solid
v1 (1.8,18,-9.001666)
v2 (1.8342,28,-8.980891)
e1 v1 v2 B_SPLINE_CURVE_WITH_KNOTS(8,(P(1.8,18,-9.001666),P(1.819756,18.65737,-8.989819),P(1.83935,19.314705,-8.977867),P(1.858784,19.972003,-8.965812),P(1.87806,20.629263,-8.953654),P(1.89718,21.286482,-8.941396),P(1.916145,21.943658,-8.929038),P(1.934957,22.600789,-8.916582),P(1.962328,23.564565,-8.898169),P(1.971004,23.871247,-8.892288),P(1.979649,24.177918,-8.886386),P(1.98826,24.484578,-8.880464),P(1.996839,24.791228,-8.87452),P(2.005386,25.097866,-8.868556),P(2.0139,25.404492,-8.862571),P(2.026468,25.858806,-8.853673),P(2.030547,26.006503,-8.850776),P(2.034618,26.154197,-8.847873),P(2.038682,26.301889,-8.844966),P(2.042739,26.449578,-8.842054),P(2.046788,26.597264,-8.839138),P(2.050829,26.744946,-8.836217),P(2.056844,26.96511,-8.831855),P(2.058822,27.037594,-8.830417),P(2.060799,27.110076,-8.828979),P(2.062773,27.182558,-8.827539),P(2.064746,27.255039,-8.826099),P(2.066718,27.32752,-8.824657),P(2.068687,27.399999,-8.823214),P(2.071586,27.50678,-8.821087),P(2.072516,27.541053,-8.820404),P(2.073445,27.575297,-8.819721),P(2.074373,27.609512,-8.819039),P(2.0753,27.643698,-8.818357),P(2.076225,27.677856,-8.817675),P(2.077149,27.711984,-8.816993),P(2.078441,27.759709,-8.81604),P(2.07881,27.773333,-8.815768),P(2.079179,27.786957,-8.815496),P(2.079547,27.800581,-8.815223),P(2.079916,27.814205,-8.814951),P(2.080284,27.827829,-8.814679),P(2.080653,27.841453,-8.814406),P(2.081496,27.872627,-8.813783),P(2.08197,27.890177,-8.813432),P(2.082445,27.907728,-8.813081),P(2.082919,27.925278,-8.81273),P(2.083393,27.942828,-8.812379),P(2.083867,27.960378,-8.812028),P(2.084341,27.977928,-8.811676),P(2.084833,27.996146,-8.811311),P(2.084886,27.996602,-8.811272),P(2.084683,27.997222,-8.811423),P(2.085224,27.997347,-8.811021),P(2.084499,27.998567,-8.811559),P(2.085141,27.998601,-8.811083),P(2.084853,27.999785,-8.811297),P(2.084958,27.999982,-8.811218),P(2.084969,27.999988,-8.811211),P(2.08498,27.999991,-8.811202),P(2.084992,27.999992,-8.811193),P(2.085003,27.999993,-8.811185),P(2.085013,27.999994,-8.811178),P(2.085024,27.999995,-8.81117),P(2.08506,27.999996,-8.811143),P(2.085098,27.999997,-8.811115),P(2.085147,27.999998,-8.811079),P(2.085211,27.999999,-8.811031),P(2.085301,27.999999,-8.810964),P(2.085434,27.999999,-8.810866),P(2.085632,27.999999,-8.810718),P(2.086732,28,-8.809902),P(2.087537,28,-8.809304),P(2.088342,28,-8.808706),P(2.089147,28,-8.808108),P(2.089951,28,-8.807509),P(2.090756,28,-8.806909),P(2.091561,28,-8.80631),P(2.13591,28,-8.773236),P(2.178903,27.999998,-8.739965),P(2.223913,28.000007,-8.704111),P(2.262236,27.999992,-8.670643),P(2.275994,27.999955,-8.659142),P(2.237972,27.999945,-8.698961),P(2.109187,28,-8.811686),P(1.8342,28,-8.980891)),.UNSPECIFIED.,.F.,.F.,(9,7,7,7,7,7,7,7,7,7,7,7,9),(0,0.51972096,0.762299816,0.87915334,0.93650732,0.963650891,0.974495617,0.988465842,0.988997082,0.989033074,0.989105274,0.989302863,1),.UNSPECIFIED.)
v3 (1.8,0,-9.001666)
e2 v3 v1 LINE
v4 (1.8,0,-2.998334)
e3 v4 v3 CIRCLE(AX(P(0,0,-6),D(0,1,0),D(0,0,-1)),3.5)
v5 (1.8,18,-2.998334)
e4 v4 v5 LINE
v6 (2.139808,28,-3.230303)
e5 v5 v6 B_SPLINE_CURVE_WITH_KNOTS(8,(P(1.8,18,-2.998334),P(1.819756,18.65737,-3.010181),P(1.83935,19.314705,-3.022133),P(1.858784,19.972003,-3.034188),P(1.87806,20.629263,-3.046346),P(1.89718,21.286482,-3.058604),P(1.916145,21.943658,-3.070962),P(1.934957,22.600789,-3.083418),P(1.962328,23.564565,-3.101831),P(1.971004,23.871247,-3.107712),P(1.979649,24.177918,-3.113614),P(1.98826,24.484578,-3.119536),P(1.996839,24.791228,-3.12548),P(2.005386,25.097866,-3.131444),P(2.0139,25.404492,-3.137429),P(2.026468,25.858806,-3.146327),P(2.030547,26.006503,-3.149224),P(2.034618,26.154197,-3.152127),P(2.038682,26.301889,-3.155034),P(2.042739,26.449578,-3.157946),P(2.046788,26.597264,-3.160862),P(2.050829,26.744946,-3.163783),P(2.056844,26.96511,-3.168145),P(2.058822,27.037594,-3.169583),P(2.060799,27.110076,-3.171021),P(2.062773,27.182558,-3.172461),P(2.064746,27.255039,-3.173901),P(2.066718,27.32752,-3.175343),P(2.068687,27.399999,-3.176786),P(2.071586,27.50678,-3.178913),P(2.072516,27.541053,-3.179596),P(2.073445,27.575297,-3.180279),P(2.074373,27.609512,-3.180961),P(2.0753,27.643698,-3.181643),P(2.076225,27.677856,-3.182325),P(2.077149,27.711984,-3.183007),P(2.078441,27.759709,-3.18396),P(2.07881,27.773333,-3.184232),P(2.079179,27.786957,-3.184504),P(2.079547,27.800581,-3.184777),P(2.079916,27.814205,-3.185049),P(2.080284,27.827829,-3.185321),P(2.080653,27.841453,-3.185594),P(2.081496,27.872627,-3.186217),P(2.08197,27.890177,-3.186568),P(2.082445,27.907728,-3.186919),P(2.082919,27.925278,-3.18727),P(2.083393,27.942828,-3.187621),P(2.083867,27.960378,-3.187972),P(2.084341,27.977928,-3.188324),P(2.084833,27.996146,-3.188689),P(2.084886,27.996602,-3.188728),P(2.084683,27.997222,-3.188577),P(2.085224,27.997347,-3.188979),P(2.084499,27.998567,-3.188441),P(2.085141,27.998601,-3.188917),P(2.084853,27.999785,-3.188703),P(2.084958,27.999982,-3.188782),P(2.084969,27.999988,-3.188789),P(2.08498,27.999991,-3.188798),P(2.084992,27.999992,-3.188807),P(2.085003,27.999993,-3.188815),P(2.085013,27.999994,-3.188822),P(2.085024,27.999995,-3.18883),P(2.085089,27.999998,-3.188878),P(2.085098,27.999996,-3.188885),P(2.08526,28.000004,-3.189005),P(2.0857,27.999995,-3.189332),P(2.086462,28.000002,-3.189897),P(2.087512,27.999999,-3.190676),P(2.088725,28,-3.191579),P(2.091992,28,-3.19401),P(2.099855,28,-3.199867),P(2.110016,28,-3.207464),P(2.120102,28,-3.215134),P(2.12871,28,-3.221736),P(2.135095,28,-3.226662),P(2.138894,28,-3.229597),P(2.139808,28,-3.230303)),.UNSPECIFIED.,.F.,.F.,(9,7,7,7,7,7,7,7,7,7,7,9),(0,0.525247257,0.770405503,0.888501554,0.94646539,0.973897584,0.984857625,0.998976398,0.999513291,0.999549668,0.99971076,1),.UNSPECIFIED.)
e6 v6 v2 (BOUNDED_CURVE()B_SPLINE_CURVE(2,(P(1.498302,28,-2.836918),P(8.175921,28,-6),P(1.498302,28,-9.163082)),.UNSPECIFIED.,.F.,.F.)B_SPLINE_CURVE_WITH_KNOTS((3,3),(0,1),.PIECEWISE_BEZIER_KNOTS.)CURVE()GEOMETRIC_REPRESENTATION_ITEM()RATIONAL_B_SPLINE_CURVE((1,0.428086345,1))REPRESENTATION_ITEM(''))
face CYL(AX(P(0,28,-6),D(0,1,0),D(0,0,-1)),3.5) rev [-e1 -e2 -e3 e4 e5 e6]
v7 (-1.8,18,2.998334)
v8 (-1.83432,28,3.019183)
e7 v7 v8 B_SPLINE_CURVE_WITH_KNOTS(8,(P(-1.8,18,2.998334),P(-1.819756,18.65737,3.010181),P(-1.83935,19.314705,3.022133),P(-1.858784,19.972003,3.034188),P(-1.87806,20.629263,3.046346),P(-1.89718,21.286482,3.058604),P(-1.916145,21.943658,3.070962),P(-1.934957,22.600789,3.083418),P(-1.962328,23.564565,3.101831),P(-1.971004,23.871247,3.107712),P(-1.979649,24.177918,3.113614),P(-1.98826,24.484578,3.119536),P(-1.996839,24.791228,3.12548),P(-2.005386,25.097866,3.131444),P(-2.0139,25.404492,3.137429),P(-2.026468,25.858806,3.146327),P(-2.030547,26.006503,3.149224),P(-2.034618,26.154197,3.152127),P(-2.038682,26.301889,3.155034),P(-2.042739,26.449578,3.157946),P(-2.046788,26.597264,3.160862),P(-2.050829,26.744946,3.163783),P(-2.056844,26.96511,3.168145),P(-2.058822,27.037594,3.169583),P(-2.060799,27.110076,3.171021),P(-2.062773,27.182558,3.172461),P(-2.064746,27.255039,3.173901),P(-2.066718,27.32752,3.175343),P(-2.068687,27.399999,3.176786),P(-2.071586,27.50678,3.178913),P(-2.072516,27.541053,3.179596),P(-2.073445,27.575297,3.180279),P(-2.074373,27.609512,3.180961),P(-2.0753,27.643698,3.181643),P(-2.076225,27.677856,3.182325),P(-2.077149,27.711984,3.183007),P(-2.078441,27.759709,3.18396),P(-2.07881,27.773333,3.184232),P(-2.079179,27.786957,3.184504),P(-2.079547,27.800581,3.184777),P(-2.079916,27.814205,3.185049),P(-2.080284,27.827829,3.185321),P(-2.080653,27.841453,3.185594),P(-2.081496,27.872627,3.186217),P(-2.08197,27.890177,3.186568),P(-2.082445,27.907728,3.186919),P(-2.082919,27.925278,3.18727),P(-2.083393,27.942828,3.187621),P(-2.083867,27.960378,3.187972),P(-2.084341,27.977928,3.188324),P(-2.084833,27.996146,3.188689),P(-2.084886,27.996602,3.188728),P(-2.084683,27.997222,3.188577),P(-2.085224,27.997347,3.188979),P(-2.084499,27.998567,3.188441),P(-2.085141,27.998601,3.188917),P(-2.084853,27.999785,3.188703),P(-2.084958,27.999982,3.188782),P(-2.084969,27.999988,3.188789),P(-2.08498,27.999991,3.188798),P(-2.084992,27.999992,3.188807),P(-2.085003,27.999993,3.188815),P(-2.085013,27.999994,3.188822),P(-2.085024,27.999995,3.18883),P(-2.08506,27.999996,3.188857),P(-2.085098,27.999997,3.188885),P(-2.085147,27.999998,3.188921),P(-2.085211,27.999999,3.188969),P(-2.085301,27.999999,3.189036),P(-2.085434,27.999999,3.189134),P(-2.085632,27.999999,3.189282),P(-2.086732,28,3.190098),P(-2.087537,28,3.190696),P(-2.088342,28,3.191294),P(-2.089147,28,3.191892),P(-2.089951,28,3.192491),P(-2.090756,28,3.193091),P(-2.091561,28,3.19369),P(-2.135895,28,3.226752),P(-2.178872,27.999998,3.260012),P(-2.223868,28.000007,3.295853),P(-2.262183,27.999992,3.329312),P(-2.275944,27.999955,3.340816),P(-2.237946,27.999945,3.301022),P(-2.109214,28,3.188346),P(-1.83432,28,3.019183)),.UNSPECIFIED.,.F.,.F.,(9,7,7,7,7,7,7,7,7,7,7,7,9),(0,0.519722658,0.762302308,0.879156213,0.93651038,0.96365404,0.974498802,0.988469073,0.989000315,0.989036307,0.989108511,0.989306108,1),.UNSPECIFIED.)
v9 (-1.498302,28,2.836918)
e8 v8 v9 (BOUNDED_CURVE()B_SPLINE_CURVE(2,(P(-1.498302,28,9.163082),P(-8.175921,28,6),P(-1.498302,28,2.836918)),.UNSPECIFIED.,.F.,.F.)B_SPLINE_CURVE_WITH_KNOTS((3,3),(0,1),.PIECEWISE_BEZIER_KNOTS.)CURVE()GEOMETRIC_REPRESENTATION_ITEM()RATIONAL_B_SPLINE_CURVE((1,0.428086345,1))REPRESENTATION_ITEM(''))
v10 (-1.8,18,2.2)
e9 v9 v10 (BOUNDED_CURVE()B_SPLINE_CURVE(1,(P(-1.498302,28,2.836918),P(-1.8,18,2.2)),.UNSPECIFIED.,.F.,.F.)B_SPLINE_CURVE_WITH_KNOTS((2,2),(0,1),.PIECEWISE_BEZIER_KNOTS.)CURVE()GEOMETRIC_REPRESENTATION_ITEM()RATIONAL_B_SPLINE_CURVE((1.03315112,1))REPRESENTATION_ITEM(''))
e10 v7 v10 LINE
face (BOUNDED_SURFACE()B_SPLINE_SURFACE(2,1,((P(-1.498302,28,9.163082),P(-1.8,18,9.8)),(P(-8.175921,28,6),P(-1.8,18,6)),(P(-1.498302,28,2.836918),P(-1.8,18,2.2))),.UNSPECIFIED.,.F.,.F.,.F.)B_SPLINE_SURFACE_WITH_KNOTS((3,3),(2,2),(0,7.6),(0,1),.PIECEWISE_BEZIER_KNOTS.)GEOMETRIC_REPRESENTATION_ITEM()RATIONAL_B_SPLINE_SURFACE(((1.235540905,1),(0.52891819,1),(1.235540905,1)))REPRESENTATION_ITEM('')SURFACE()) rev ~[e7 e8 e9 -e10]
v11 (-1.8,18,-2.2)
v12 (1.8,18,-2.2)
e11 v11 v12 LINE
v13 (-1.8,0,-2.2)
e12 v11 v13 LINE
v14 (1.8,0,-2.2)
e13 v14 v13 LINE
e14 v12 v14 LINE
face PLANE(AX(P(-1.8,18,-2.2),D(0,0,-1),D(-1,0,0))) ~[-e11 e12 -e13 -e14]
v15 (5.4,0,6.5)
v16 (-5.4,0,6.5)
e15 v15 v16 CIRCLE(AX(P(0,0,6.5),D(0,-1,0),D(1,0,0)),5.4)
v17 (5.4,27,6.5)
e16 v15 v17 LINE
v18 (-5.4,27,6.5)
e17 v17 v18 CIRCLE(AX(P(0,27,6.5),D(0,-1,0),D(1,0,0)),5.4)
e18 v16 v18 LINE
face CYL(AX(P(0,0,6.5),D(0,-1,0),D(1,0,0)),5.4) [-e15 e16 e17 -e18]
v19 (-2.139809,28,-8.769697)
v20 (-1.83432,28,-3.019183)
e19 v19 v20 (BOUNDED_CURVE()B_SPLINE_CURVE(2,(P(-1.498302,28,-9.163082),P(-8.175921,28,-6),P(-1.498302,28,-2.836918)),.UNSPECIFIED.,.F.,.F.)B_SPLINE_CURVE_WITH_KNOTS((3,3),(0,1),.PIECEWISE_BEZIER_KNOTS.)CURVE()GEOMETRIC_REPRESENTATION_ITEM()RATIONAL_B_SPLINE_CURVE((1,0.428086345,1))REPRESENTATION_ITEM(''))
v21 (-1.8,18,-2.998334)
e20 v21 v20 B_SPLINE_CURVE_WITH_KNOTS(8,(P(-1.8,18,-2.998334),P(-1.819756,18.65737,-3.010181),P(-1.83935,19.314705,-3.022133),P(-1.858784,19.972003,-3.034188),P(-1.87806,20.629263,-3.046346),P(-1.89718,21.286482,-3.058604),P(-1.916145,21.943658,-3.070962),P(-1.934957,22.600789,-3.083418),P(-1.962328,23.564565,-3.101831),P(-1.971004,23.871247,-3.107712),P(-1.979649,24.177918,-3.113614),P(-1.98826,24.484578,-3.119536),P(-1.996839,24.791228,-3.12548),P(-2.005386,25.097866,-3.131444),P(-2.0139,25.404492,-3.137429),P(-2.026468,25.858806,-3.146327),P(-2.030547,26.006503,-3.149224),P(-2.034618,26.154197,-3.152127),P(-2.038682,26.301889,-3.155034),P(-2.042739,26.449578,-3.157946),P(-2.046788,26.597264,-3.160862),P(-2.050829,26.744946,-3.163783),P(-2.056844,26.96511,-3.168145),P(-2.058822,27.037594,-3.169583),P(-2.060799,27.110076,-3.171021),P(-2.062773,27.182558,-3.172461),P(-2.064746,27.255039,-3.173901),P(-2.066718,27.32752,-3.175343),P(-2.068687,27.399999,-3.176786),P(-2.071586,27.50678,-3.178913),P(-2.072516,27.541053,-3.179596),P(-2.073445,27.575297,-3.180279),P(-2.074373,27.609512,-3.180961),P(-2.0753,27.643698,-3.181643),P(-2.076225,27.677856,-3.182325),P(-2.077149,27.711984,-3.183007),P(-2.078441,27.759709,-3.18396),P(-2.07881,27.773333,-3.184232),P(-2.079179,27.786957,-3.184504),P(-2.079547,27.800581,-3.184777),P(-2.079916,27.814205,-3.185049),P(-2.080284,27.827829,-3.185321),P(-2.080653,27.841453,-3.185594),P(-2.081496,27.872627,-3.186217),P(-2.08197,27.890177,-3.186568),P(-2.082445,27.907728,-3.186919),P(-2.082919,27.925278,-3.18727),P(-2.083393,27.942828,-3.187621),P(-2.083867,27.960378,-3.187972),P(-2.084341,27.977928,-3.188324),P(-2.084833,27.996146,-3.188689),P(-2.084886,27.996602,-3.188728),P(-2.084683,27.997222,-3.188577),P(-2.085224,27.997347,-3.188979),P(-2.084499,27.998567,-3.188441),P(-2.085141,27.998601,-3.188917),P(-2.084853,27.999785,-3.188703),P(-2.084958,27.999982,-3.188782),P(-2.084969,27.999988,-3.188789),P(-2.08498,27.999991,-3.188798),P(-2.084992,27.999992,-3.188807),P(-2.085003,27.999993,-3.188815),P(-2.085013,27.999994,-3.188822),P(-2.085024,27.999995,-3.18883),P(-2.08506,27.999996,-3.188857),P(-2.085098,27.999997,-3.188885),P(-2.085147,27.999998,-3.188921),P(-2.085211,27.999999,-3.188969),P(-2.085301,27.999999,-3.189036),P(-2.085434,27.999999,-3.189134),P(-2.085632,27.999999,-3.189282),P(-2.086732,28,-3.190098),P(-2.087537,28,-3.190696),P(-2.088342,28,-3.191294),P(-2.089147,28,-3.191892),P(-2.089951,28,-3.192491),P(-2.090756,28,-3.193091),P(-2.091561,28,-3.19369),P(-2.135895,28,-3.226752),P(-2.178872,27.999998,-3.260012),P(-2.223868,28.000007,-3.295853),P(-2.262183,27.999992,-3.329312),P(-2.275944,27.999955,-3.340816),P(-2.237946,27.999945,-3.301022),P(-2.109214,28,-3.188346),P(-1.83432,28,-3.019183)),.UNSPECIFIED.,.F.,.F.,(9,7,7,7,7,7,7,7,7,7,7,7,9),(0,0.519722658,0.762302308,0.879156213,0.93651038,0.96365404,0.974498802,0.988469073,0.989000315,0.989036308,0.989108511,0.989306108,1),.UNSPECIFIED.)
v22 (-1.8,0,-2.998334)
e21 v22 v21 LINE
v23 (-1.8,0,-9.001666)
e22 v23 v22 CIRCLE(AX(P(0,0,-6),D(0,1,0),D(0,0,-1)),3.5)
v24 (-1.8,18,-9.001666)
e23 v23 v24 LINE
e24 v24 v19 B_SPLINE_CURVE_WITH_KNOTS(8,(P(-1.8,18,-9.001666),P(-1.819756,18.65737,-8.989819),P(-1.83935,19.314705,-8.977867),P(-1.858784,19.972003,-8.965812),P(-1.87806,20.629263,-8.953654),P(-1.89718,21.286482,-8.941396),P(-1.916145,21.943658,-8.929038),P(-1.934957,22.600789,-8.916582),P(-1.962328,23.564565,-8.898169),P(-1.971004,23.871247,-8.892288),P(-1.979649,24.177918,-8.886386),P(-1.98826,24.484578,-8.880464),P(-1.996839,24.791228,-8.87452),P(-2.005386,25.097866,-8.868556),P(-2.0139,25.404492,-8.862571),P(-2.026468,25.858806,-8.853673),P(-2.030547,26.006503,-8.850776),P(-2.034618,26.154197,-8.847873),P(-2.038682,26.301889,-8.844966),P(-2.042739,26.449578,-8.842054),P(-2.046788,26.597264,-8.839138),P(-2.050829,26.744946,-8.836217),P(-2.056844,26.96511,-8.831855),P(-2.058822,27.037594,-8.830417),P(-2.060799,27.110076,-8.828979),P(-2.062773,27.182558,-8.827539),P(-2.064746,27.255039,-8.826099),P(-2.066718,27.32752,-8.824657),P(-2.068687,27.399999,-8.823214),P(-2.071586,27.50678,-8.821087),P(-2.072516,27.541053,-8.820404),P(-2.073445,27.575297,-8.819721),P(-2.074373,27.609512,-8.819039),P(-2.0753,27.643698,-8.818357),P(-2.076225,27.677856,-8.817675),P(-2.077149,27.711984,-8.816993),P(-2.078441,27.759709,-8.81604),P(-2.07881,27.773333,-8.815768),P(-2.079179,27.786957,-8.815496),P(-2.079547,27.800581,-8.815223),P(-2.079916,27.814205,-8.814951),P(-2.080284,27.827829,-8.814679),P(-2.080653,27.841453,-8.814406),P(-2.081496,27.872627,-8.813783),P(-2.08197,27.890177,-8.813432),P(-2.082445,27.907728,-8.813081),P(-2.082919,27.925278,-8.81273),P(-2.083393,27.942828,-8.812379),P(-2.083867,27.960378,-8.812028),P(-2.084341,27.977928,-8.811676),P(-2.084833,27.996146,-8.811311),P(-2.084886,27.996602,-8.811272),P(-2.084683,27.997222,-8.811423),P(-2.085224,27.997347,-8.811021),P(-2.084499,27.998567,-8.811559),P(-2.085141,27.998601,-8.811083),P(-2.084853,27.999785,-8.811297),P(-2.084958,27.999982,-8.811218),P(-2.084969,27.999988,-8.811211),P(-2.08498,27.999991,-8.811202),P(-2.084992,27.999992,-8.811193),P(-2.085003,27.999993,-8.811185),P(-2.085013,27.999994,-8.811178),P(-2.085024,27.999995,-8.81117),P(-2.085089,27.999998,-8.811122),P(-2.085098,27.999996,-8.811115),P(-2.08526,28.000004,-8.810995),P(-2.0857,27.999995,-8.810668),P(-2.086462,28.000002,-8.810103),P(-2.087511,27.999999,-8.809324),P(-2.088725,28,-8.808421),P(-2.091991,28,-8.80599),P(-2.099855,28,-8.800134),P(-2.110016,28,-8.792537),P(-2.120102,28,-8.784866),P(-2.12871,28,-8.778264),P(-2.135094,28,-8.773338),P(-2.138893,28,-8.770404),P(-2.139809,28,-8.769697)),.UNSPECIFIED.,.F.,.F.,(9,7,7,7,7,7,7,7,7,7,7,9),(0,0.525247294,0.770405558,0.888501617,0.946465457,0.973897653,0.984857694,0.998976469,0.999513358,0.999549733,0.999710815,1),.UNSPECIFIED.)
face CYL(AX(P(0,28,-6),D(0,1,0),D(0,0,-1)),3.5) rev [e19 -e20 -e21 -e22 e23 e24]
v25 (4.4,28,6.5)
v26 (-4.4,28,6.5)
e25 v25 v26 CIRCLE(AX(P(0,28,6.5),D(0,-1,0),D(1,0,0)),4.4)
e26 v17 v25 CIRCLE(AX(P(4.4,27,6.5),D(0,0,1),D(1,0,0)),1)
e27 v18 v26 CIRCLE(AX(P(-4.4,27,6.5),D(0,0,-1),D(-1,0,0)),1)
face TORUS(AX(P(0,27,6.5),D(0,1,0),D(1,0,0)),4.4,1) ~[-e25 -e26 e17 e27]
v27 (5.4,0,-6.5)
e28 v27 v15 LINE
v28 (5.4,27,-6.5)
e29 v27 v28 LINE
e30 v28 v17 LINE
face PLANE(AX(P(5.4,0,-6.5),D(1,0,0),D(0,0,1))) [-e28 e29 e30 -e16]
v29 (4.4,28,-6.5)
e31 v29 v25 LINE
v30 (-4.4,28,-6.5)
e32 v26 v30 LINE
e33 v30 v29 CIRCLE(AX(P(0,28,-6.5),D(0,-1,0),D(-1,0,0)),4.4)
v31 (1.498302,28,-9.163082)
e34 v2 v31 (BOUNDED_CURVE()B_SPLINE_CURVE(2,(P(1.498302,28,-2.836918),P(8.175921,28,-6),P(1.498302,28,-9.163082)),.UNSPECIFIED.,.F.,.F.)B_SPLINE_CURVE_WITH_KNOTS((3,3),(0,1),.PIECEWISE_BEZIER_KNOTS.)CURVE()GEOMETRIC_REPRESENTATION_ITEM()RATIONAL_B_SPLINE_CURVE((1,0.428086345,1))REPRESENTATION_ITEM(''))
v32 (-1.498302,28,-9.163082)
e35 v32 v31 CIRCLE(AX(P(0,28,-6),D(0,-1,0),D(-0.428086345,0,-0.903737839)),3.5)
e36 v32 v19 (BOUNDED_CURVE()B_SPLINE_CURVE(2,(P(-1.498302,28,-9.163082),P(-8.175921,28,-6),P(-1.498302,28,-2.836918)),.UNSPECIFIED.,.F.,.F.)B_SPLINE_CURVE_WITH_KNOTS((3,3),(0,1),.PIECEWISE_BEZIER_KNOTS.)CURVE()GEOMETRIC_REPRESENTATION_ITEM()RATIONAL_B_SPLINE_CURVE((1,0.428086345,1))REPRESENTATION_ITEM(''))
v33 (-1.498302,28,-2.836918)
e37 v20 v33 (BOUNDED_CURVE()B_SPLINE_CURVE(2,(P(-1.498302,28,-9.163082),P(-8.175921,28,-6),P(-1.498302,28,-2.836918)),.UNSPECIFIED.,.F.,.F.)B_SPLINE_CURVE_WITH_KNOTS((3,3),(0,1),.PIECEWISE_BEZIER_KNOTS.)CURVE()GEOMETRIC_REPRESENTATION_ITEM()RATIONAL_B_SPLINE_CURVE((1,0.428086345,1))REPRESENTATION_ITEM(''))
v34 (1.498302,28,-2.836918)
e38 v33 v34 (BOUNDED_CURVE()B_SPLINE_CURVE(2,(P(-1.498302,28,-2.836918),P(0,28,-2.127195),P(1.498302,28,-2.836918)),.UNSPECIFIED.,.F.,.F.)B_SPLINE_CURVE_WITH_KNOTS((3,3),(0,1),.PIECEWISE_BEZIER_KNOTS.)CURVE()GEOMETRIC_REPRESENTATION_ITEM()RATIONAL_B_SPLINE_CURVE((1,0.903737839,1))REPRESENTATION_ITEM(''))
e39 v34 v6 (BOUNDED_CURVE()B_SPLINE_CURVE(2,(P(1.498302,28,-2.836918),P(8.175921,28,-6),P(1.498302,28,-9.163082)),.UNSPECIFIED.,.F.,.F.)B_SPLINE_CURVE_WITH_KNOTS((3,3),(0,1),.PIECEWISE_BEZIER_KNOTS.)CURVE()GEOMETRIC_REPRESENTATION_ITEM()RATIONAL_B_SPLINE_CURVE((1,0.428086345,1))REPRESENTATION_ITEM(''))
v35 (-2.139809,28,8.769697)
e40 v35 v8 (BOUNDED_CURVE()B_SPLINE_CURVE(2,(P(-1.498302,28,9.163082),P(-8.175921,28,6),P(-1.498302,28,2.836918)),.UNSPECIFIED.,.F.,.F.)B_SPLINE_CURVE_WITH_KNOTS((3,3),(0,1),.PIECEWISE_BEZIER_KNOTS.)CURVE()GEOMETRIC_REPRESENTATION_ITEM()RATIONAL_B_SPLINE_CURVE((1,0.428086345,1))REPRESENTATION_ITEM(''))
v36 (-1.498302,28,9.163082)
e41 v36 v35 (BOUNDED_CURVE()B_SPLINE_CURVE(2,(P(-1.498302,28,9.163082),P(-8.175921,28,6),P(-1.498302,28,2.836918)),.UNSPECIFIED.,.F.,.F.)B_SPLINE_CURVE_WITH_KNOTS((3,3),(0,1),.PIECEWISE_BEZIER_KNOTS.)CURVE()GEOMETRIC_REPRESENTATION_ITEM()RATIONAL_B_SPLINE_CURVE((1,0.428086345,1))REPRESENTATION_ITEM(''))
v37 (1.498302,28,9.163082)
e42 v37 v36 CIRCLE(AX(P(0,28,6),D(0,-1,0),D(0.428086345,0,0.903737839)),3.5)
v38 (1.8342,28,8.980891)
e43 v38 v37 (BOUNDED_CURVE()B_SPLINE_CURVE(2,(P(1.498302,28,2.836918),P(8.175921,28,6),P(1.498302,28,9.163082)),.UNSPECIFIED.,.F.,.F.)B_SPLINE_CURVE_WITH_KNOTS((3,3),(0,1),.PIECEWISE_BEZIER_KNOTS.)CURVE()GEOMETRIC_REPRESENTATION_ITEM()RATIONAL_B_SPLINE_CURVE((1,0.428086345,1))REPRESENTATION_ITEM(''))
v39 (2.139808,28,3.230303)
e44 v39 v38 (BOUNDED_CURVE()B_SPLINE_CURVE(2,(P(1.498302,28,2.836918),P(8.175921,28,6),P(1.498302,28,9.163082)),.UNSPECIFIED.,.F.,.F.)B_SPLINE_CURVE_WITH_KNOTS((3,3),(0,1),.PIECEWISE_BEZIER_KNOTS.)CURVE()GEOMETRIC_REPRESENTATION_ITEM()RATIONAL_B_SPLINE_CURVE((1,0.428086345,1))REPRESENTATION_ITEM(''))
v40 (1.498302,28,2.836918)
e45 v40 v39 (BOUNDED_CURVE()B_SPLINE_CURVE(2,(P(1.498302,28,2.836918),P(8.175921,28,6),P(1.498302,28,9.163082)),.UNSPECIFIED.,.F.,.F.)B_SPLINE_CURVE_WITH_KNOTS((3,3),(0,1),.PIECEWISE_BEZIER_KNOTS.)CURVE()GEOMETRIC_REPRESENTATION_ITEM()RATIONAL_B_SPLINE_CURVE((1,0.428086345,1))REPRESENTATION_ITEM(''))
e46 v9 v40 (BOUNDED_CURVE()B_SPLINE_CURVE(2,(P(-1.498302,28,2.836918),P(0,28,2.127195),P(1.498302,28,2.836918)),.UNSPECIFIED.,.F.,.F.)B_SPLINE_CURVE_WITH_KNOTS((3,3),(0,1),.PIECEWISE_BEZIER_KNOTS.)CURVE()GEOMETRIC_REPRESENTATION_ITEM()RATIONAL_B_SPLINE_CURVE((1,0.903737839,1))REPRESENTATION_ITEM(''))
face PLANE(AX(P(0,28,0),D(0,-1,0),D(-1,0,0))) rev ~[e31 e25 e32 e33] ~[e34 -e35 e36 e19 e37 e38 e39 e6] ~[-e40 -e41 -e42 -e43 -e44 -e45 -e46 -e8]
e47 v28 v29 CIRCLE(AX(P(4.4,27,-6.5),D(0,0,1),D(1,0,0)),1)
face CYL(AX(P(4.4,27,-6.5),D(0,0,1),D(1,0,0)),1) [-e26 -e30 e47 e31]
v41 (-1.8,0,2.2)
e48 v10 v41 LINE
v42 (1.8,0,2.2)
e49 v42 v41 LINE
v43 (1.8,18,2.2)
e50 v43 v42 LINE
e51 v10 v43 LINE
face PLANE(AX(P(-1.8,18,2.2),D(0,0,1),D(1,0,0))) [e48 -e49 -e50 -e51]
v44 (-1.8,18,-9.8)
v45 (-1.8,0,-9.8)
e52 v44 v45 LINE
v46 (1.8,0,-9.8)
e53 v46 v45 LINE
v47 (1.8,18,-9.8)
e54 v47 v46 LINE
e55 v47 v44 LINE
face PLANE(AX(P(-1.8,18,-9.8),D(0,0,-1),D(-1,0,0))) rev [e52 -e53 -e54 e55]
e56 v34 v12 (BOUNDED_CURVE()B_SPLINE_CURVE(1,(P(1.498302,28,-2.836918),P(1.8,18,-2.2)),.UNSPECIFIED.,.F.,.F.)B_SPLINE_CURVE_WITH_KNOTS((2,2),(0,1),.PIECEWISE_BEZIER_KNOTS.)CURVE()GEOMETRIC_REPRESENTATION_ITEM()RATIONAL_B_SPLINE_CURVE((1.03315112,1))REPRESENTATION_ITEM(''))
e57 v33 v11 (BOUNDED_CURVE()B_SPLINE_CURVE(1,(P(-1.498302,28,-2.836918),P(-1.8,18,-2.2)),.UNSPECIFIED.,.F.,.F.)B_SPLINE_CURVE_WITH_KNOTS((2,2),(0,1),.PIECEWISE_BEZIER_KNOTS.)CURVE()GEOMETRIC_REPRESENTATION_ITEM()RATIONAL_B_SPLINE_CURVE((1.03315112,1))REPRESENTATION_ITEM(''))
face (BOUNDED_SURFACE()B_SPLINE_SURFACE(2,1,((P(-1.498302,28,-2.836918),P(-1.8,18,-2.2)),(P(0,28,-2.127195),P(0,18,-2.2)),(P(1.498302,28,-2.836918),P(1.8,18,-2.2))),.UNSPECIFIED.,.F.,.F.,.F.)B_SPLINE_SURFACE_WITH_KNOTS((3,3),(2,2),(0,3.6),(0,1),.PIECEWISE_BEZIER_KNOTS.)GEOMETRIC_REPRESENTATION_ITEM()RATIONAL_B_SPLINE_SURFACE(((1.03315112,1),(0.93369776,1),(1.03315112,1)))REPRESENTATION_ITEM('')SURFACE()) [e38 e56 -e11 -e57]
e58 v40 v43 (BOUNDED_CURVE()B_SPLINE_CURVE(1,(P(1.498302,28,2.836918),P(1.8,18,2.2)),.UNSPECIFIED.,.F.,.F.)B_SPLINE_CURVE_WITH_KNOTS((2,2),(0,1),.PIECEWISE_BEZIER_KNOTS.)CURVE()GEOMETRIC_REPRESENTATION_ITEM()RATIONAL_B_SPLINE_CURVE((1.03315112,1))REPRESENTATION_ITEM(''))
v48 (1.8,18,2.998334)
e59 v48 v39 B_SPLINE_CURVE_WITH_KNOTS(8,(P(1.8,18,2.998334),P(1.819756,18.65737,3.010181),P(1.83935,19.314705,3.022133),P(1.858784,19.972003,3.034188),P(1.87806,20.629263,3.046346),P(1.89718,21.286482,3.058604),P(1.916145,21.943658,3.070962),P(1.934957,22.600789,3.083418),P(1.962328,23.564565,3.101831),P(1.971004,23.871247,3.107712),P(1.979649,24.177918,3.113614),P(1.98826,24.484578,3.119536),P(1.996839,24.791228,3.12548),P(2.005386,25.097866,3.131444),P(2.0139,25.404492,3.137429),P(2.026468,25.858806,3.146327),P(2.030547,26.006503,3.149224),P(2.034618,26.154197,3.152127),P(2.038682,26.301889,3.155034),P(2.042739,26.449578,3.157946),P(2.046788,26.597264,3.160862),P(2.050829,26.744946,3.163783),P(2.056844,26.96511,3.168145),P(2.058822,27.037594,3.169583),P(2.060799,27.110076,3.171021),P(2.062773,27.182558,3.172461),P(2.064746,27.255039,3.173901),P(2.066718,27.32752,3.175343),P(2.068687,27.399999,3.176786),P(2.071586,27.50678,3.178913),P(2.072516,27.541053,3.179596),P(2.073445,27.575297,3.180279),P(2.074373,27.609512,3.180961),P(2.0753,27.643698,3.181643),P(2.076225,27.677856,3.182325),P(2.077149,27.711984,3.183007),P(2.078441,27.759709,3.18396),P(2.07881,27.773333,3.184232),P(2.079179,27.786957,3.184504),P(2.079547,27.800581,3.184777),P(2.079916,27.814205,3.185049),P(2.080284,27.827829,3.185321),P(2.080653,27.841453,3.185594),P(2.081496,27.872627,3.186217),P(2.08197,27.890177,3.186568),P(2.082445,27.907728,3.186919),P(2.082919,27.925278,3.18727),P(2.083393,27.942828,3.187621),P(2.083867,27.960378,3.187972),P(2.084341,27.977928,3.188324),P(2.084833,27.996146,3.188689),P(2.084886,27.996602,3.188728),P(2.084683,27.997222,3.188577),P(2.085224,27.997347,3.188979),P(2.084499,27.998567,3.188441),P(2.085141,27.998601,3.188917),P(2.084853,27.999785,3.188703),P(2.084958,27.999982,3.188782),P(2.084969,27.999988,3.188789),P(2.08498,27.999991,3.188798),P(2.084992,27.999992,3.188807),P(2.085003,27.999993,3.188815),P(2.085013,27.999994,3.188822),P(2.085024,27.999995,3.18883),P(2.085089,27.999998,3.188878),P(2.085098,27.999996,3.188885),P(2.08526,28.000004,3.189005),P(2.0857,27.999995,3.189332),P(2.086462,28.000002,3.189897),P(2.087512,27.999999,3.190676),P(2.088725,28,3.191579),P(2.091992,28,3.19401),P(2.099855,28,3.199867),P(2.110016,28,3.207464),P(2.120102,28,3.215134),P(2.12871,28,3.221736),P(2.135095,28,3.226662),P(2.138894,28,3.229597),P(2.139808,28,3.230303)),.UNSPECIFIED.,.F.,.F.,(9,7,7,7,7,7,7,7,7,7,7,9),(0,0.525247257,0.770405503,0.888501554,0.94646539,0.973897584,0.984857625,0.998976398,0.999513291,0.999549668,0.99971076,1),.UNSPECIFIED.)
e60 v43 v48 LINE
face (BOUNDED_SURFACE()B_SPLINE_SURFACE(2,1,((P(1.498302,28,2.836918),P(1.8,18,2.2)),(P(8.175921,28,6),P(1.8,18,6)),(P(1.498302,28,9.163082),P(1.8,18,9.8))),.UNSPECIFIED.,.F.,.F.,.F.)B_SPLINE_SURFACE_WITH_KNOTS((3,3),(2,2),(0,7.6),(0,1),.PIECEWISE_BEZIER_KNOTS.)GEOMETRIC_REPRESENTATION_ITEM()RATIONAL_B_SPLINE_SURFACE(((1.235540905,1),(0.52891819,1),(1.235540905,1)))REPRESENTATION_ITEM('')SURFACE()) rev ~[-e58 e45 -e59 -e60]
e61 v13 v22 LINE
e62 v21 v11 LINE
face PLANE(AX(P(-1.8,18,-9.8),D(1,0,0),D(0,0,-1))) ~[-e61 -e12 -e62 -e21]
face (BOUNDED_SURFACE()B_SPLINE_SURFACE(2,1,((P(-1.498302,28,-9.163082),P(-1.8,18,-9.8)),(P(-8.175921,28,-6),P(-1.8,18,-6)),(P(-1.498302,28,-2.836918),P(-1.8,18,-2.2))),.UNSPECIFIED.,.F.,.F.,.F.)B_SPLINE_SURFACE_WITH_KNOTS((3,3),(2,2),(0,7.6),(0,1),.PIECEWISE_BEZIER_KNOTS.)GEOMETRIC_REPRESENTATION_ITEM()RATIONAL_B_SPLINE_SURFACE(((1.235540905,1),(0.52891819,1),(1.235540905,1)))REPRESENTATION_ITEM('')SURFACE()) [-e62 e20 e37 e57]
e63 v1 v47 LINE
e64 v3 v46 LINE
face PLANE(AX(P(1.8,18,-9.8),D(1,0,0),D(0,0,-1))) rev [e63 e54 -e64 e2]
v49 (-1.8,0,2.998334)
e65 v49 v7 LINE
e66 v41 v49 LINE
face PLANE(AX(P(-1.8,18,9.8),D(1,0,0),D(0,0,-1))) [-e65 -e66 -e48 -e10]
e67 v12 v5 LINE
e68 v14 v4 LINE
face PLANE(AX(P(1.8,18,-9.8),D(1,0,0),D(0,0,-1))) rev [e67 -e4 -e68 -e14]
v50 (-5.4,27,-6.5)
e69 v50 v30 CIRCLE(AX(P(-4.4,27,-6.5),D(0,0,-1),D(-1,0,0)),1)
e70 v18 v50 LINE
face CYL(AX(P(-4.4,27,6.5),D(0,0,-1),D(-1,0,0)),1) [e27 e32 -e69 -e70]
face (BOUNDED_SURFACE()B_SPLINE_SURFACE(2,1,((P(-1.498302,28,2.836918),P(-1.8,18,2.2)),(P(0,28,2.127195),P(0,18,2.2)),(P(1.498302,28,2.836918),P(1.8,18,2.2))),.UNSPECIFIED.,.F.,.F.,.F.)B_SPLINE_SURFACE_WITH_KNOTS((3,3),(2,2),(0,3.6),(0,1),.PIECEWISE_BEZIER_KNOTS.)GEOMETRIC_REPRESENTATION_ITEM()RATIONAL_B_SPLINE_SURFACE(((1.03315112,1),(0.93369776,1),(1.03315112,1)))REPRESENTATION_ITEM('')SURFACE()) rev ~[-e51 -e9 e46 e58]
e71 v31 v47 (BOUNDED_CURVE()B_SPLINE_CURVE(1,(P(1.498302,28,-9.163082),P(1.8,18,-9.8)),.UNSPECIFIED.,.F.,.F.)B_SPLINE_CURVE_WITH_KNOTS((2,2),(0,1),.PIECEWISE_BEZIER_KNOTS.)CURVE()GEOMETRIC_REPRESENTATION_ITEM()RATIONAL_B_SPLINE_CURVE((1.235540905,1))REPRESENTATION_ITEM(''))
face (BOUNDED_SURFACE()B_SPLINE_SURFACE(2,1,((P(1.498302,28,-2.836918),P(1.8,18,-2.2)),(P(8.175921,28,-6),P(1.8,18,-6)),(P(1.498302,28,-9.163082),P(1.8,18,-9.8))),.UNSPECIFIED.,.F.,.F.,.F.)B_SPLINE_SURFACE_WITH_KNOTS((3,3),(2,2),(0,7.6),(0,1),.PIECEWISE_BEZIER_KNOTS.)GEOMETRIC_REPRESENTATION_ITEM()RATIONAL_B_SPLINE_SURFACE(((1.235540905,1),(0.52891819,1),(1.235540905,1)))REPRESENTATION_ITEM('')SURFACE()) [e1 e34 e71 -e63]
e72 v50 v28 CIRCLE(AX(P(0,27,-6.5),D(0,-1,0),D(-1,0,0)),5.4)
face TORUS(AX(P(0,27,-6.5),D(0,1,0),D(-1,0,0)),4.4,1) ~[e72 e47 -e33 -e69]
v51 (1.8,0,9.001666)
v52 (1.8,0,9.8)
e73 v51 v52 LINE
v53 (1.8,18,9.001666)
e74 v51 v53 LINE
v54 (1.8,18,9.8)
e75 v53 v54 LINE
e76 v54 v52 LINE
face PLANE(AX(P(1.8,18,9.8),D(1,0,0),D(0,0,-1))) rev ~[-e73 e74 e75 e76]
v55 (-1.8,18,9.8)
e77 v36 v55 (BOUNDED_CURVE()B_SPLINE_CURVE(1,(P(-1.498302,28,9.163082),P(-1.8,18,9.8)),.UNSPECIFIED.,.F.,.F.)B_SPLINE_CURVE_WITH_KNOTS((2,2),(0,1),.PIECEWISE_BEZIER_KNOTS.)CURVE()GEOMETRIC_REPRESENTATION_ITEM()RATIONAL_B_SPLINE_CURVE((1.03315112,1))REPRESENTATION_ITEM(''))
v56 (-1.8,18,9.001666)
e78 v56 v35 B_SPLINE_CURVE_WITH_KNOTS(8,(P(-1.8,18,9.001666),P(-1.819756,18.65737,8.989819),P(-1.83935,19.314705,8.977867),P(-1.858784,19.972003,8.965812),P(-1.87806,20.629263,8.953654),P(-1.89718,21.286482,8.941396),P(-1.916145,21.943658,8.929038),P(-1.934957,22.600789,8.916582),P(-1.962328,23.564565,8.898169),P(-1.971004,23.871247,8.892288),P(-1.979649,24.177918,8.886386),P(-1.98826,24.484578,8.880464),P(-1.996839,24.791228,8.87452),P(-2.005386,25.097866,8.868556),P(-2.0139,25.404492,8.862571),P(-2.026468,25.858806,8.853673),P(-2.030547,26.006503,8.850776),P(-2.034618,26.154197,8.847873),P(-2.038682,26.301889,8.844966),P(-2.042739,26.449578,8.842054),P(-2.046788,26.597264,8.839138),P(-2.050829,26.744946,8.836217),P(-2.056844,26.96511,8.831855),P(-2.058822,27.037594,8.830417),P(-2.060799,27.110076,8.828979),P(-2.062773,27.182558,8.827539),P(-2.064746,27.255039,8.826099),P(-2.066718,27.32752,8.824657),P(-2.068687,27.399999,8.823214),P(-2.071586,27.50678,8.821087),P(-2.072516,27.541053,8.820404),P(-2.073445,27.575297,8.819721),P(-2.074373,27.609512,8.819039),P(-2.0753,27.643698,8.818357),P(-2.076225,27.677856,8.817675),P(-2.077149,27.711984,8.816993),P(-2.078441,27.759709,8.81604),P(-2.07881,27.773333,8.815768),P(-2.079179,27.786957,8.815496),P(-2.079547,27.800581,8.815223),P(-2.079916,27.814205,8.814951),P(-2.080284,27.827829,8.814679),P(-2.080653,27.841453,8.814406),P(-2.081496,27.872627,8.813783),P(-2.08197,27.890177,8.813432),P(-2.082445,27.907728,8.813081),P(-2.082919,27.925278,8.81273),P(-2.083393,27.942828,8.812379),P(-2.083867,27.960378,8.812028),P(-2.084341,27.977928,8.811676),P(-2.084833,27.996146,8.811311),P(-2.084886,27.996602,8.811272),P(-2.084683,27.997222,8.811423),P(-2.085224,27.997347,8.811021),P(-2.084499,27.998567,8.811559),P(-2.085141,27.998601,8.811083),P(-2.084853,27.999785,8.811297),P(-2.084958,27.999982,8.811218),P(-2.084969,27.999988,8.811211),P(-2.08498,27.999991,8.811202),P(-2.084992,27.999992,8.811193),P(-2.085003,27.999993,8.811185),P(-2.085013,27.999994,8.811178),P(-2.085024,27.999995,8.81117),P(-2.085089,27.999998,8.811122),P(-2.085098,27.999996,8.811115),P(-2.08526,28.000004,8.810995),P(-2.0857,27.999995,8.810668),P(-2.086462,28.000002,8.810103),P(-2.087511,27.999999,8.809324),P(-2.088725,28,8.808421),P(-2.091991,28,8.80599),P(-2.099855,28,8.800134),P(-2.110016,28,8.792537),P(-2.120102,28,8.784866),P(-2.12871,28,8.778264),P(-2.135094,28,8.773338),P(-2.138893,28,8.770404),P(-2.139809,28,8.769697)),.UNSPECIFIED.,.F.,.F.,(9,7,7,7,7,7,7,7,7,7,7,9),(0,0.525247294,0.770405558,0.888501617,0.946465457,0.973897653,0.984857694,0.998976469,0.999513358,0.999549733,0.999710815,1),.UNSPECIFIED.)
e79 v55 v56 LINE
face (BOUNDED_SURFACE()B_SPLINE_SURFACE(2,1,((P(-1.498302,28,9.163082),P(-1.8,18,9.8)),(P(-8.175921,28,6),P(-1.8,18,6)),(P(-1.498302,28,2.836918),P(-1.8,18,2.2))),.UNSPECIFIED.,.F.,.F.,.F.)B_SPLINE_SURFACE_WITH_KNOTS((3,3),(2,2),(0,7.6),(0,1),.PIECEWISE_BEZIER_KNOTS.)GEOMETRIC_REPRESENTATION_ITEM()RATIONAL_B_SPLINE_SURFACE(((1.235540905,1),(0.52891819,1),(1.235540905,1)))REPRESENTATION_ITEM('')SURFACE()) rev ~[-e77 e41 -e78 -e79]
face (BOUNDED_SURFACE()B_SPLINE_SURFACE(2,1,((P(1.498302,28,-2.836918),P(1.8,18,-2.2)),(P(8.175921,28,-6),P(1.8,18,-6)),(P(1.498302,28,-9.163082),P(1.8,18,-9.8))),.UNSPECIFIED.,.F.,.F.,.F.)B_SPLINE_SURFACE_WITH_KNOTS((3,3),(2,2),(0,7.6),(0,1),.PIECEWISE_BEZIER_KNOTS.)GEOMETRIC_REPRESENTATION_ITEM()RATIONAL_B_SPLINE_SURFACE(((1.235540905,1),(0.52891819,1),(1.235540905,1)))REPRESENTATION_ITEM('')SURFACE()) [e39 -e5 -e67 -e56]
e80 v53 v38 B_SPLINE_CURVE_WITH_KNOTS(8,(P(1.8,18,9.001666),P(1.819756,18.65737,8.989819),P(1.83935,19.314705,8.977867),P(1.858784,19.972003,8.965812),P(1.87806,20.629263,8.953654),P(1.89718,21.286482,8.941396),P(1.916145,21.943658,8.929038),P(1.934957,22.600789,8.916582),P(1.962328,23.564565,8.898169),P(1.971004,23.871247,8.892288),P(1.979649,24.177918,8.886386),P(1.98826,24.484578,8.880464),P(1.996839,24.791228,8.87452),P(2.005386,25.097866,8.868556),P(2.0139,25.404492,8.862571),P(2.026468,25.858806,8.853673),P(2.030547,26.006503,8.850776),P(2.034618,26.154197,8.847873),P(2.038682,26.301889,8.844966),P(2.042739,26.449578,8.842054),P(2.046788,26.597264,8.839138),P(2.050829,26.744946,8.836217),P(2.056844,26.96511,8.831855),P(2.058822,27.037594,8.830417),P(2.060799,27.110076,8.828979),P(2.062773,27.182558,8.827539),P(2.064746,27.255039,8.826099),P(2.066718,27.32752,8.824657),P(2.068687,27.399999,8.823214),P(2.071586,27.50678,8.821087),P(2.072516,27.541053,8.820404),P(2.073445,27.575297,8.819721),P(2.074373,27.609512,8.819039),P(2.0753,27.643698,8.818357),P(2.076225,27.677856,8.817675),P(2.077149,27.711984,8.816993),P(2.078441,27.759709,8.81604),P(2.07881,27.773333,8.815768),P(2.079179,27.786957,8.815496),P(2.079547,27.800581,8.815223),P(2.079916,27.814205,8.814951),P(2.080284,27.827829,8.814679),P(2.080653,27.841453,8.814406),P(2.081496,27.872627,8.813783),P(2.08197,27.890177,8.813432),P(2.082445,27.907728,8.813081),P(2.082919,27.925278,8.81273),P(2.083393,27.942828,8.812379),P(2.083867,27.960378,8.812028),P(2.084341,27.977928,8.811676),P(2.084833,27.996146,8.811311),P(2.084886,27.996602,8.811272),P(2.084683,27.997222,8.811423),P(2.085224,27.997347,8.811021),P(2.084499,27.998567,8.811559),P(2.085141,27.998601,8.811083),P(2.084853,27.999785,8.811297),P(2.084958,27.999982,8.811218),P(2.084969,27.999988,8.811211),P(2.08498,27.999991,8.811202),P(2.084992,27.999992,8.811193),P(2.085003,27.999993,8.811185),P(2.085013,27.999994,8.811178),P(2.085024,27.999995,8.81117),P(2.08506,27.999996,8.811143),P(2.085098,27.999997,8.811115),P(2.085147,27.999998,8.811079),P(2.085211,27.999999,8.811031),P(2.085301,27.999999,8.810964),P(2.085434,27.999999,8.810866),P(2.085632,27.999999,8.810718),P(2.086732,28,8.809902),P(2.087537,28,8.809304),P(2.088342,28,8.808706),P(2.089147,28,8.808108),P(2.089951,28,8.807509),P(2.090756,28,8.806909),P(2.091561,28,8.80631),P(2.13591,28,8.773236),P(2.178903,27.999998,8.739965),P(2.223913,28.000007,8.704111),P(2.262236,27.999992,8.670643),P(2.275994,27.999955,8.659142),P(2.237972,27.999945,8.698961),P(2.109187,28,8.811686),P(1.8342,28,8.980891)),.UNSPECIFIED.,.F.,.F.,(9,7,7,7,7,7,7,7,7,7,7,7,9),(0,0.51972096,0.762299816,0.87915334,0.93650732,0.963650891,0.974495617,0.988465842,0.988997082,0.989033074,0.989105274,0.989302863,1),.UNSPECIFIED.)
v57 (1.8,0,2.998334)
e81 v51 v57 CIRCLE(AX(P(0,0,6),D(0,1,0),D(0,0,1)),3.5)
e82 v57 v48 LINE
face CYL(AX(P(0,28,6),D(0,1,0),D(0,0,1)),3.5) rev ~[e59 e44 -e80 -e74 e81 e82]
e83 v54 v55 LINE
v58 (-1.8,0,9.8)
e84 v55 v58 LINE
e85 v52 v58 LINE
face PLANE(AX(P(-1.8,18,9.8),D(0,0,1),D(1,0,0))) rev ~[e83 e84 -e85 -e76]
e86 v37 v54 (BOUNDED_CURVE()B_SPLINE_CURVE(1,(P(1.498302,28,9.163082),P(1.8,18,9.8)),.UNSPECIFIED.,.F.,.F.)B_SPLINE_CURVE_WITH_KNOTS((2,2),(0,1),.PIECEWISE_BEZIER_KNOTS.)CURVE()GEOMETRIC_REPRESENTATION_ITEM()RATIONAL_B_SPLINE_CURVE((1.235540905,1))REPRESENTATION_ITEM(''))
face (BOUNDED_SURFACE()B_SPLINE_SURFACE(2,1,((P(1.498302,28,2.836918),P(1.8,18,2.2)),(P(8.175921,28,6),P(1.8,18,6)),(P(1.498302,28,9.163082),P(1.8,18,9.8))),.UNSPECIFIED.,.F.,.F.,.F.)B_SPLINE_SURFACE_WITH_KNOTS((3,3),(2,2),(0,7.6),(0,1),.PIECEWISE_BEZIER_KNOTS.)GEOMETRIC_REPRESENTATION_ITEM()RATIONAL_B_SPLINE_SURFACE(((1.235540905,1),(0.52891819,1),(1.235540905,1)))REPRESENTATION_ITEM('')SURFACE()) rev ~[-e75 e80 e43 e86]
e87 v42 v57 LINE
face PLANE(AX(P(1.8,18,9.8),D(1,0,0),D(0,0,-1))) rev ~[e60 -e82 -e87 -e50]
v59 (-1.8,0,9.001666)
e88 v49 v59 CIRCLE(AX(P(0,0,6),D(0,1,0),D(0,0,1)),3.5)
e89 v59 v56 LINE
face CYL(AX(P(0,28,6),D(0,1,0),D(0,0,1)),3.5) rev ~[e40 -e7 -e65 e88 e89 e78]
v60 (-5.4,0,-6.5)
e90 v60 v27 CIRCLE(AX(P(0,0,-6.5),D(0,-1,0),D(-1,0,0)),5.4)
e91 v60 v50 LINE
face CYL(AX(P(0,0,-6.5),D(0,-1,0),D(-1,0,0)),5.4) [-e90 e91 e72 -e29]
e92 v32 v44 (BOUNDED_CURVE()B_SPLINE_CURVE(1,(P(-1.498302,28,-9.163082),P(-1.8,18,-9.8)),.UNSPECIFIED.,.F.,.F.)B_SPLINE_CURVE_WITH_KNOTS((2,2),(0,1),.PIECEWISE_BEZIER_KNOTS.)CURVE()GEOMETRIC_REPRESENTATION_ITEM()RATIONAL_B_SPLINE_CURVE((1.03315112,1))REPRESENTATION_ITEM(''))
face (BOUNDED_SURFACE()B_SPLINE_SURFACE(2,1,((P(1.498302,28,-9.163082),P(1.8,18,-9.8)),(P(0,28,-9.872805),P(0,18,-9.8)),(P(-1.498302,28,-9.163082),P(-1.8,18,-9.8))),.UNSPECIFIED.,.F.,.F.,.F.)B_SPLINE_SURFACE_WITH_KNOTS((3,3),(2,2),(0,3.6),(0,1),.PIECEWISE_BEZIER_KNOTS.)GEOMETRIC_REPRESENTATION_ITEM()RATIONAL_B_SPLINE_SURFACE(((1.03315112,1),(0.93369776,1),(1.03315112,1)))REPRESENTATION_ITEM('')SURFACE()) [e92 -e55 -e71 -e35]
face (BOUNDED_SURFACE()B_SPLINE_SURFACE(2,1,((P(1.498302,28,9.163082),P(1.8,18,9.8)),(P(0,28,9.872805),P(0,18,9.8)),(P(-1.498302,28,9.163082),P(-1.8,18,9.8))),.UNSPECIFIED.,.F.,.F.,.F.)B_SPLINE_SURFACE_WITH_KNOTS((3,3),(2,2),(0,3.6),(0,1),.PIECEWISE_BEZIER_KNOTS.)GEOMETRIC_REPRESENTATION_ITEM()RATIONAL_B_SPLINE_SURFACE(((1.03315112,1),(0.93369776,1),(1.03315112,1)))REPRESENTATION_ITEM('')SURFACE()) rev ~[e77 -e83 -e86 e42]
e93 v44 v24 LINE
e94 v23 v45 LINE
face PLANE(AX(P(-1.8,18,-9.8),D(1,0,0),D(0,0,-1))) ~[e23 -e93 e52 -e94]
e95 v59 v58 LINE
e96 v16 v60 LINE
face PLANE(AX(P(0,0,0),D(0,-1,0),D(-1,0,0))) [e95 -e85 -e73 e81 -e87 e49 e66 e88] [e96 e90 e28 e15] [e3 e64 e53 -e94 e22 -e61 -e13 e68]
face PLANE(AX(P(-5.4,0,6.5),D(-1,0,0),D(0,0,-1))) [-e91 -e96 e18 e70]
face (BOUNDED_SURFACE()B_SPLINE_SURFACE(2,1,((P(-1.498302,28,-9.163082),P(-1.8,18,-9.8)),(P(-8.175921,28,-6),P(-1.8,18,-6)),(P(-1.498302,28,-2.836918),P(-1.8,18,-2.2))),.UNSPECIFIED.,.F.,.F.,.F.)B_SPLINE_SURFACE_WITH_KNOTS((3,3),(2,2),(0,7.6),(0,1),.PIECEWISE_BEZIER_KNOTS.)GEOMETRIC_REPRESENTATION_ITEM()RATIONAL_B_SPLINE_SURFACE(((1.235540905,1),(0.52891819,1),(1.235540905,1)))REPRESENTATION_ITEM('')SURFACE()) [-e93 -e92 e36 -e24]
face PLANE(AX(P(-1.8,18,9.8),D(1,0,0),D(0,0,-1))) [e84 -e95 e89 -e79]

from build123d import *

# Parameters (mm, degrees)
BOSS_EXTRU_1_DEPTH      = 28
CONG_2_R                = 1
ESQUISSE3_R             = 3.5
ENL_V_MAT_EXTRU_3_DEPTH = 31.8993528
ESQUISSE6_W             = 3.6
ESQUISSE6_H             = 7.6
ENL_V_MAT_EXTRU_4_DEPTH = 23.243426154


with BuildPart() as part:
    # Esquisse1 → Boss.-Extru.1 (new body)
    with BuildSketch(Plane(origin=(0, 0, 0), x_dir=(1, 0, 0), z_dir=(0, 1, 0))):
        with BuildLine():
            Line((5.4, 6.5), (5.4, -6.5))
            ThreePointArc((5.4, -6.5), (0, -11.9), (-5.4, -6.5))
            Line((-5.4, -6.5), (-5.4, 6.5))
            ThreePointArc((-5.4, 6.5), (0, 11.9), (5.4, 6.5))
        make_face()
    extrude(amount=BOSS_EXTRU_1_DEPTH)

    # Congé2
    cong_2_edges = [part.edges().sort_by_distance(p)[0] for p in [
        (0, 28, 11.9),
        (5.4, 28, 0),
        (0, 28, -11.9),
        (-5.4, 28, 0),
    ]]
    fillet(cong_2_edges, radius=CONG_2_R)

    # Esquisse3 → Enlèv. mat.-Extru.3 (cut, through all)
    with BuildSketch(Plane(origin=(0, 28, 0), x_dir=(1, 0, 0), z_dir=(0, 1, 0))):
        with Locations(Location((0, -6, 0), (0, 0, 270))):
            Circle(ESQUISSE3_R)
    enl_v_mat_extru_3 = extrude(amount=-ENL_V_MAT_EXTRU_3_DEPTH, mode=Mode.SUBTRACT)

    # Esquisse5 for Enl_vement d → Enlèvement de matière-Lissage1 section 0
    with BuildSketch(Plane(origin=(0, 28, 0), x_dir=(1, 0, 0), z_dir=(0, 1, 0))):
        with BuildLine():
            # circular arc as an exact rational Bezier (weights 1, cos(half-angle), 1)
            Bezier((-1.498302207, -2.836917564), (0, -2.127195466), (1.498302207, -2.836917564), weights=[1, 0.903737839, 1])
            Bezier((1.498302207, -2.836917564), (8.17592068, -6), (1.498302207, -9.163082436), weights=[1, 0.428086345, 1])
            Bezier((1.498302207, -9.163082436), (0, -9.872804534), (-1.498302207, -9.163082436), weights=[1, 0.903737839, 1])
            Bezier((-1.498302207, -9.163082436), (-8.17592068, -6), (-1.498302207, -2.836917564), weights=[1, 0.428086345, 1])
        make_face()
    # Esquisse4 → Enlèvement de matière-Lissage1 section 1
    with BuildSketch(Plane(origin=(0, 18, 0), x_dir=(1, 0, 0), z_dir=(0, 1, 0))):
        with BuildLine():
            Line((-1.8, -2.2), (1.8, -2.2))
            Line((1.8, -2.2), (1.8, -9.8))
            Line((1.8, -9.8), (-1.8, -9.8))
            Line((-1.8, -9.8), (-1.8, -2.2))
        make_face()
    enl_vement_de_mati_re_lissage1 = loft(mode=Mode.SUBTRACT)

    # Esquisse6 → Enlèv. mat.-Extru.4 (cut, through all)
    with BuildSketch(Plane(origin=(0, 18, 0), x_dir=(1, 0, 0), z_dir=(0, 1, 0))):
        with Locations((0, -6)):
            Rectangle(ESQUISSE6_W, ESQUISSE6_H)
    enl_v_mat_extru_4 = extrude(amount=-ENL_V_MAT_EXTRU_4_DEPTH, mode=Mode.SUBTRACT)

    # Symétrie1: Enlèv. mat.-Extru.3, Enlèvement de matière-Lissage1, Enlèv. mat.-Extru.4 across plane
    add(enl_v_mat_extru_3.mirror(Plane.XY), mode=Mode.SUBTRACT)
    add(enl_vement_de_mati_re_lissage1.mirror(Plane.XY), mode=Mode.SUBTRACT)
    add(enl_v_mat_extru_4.mirror(Plane.XY), mode=Mode.SUBTRACT)


solid = part.part
